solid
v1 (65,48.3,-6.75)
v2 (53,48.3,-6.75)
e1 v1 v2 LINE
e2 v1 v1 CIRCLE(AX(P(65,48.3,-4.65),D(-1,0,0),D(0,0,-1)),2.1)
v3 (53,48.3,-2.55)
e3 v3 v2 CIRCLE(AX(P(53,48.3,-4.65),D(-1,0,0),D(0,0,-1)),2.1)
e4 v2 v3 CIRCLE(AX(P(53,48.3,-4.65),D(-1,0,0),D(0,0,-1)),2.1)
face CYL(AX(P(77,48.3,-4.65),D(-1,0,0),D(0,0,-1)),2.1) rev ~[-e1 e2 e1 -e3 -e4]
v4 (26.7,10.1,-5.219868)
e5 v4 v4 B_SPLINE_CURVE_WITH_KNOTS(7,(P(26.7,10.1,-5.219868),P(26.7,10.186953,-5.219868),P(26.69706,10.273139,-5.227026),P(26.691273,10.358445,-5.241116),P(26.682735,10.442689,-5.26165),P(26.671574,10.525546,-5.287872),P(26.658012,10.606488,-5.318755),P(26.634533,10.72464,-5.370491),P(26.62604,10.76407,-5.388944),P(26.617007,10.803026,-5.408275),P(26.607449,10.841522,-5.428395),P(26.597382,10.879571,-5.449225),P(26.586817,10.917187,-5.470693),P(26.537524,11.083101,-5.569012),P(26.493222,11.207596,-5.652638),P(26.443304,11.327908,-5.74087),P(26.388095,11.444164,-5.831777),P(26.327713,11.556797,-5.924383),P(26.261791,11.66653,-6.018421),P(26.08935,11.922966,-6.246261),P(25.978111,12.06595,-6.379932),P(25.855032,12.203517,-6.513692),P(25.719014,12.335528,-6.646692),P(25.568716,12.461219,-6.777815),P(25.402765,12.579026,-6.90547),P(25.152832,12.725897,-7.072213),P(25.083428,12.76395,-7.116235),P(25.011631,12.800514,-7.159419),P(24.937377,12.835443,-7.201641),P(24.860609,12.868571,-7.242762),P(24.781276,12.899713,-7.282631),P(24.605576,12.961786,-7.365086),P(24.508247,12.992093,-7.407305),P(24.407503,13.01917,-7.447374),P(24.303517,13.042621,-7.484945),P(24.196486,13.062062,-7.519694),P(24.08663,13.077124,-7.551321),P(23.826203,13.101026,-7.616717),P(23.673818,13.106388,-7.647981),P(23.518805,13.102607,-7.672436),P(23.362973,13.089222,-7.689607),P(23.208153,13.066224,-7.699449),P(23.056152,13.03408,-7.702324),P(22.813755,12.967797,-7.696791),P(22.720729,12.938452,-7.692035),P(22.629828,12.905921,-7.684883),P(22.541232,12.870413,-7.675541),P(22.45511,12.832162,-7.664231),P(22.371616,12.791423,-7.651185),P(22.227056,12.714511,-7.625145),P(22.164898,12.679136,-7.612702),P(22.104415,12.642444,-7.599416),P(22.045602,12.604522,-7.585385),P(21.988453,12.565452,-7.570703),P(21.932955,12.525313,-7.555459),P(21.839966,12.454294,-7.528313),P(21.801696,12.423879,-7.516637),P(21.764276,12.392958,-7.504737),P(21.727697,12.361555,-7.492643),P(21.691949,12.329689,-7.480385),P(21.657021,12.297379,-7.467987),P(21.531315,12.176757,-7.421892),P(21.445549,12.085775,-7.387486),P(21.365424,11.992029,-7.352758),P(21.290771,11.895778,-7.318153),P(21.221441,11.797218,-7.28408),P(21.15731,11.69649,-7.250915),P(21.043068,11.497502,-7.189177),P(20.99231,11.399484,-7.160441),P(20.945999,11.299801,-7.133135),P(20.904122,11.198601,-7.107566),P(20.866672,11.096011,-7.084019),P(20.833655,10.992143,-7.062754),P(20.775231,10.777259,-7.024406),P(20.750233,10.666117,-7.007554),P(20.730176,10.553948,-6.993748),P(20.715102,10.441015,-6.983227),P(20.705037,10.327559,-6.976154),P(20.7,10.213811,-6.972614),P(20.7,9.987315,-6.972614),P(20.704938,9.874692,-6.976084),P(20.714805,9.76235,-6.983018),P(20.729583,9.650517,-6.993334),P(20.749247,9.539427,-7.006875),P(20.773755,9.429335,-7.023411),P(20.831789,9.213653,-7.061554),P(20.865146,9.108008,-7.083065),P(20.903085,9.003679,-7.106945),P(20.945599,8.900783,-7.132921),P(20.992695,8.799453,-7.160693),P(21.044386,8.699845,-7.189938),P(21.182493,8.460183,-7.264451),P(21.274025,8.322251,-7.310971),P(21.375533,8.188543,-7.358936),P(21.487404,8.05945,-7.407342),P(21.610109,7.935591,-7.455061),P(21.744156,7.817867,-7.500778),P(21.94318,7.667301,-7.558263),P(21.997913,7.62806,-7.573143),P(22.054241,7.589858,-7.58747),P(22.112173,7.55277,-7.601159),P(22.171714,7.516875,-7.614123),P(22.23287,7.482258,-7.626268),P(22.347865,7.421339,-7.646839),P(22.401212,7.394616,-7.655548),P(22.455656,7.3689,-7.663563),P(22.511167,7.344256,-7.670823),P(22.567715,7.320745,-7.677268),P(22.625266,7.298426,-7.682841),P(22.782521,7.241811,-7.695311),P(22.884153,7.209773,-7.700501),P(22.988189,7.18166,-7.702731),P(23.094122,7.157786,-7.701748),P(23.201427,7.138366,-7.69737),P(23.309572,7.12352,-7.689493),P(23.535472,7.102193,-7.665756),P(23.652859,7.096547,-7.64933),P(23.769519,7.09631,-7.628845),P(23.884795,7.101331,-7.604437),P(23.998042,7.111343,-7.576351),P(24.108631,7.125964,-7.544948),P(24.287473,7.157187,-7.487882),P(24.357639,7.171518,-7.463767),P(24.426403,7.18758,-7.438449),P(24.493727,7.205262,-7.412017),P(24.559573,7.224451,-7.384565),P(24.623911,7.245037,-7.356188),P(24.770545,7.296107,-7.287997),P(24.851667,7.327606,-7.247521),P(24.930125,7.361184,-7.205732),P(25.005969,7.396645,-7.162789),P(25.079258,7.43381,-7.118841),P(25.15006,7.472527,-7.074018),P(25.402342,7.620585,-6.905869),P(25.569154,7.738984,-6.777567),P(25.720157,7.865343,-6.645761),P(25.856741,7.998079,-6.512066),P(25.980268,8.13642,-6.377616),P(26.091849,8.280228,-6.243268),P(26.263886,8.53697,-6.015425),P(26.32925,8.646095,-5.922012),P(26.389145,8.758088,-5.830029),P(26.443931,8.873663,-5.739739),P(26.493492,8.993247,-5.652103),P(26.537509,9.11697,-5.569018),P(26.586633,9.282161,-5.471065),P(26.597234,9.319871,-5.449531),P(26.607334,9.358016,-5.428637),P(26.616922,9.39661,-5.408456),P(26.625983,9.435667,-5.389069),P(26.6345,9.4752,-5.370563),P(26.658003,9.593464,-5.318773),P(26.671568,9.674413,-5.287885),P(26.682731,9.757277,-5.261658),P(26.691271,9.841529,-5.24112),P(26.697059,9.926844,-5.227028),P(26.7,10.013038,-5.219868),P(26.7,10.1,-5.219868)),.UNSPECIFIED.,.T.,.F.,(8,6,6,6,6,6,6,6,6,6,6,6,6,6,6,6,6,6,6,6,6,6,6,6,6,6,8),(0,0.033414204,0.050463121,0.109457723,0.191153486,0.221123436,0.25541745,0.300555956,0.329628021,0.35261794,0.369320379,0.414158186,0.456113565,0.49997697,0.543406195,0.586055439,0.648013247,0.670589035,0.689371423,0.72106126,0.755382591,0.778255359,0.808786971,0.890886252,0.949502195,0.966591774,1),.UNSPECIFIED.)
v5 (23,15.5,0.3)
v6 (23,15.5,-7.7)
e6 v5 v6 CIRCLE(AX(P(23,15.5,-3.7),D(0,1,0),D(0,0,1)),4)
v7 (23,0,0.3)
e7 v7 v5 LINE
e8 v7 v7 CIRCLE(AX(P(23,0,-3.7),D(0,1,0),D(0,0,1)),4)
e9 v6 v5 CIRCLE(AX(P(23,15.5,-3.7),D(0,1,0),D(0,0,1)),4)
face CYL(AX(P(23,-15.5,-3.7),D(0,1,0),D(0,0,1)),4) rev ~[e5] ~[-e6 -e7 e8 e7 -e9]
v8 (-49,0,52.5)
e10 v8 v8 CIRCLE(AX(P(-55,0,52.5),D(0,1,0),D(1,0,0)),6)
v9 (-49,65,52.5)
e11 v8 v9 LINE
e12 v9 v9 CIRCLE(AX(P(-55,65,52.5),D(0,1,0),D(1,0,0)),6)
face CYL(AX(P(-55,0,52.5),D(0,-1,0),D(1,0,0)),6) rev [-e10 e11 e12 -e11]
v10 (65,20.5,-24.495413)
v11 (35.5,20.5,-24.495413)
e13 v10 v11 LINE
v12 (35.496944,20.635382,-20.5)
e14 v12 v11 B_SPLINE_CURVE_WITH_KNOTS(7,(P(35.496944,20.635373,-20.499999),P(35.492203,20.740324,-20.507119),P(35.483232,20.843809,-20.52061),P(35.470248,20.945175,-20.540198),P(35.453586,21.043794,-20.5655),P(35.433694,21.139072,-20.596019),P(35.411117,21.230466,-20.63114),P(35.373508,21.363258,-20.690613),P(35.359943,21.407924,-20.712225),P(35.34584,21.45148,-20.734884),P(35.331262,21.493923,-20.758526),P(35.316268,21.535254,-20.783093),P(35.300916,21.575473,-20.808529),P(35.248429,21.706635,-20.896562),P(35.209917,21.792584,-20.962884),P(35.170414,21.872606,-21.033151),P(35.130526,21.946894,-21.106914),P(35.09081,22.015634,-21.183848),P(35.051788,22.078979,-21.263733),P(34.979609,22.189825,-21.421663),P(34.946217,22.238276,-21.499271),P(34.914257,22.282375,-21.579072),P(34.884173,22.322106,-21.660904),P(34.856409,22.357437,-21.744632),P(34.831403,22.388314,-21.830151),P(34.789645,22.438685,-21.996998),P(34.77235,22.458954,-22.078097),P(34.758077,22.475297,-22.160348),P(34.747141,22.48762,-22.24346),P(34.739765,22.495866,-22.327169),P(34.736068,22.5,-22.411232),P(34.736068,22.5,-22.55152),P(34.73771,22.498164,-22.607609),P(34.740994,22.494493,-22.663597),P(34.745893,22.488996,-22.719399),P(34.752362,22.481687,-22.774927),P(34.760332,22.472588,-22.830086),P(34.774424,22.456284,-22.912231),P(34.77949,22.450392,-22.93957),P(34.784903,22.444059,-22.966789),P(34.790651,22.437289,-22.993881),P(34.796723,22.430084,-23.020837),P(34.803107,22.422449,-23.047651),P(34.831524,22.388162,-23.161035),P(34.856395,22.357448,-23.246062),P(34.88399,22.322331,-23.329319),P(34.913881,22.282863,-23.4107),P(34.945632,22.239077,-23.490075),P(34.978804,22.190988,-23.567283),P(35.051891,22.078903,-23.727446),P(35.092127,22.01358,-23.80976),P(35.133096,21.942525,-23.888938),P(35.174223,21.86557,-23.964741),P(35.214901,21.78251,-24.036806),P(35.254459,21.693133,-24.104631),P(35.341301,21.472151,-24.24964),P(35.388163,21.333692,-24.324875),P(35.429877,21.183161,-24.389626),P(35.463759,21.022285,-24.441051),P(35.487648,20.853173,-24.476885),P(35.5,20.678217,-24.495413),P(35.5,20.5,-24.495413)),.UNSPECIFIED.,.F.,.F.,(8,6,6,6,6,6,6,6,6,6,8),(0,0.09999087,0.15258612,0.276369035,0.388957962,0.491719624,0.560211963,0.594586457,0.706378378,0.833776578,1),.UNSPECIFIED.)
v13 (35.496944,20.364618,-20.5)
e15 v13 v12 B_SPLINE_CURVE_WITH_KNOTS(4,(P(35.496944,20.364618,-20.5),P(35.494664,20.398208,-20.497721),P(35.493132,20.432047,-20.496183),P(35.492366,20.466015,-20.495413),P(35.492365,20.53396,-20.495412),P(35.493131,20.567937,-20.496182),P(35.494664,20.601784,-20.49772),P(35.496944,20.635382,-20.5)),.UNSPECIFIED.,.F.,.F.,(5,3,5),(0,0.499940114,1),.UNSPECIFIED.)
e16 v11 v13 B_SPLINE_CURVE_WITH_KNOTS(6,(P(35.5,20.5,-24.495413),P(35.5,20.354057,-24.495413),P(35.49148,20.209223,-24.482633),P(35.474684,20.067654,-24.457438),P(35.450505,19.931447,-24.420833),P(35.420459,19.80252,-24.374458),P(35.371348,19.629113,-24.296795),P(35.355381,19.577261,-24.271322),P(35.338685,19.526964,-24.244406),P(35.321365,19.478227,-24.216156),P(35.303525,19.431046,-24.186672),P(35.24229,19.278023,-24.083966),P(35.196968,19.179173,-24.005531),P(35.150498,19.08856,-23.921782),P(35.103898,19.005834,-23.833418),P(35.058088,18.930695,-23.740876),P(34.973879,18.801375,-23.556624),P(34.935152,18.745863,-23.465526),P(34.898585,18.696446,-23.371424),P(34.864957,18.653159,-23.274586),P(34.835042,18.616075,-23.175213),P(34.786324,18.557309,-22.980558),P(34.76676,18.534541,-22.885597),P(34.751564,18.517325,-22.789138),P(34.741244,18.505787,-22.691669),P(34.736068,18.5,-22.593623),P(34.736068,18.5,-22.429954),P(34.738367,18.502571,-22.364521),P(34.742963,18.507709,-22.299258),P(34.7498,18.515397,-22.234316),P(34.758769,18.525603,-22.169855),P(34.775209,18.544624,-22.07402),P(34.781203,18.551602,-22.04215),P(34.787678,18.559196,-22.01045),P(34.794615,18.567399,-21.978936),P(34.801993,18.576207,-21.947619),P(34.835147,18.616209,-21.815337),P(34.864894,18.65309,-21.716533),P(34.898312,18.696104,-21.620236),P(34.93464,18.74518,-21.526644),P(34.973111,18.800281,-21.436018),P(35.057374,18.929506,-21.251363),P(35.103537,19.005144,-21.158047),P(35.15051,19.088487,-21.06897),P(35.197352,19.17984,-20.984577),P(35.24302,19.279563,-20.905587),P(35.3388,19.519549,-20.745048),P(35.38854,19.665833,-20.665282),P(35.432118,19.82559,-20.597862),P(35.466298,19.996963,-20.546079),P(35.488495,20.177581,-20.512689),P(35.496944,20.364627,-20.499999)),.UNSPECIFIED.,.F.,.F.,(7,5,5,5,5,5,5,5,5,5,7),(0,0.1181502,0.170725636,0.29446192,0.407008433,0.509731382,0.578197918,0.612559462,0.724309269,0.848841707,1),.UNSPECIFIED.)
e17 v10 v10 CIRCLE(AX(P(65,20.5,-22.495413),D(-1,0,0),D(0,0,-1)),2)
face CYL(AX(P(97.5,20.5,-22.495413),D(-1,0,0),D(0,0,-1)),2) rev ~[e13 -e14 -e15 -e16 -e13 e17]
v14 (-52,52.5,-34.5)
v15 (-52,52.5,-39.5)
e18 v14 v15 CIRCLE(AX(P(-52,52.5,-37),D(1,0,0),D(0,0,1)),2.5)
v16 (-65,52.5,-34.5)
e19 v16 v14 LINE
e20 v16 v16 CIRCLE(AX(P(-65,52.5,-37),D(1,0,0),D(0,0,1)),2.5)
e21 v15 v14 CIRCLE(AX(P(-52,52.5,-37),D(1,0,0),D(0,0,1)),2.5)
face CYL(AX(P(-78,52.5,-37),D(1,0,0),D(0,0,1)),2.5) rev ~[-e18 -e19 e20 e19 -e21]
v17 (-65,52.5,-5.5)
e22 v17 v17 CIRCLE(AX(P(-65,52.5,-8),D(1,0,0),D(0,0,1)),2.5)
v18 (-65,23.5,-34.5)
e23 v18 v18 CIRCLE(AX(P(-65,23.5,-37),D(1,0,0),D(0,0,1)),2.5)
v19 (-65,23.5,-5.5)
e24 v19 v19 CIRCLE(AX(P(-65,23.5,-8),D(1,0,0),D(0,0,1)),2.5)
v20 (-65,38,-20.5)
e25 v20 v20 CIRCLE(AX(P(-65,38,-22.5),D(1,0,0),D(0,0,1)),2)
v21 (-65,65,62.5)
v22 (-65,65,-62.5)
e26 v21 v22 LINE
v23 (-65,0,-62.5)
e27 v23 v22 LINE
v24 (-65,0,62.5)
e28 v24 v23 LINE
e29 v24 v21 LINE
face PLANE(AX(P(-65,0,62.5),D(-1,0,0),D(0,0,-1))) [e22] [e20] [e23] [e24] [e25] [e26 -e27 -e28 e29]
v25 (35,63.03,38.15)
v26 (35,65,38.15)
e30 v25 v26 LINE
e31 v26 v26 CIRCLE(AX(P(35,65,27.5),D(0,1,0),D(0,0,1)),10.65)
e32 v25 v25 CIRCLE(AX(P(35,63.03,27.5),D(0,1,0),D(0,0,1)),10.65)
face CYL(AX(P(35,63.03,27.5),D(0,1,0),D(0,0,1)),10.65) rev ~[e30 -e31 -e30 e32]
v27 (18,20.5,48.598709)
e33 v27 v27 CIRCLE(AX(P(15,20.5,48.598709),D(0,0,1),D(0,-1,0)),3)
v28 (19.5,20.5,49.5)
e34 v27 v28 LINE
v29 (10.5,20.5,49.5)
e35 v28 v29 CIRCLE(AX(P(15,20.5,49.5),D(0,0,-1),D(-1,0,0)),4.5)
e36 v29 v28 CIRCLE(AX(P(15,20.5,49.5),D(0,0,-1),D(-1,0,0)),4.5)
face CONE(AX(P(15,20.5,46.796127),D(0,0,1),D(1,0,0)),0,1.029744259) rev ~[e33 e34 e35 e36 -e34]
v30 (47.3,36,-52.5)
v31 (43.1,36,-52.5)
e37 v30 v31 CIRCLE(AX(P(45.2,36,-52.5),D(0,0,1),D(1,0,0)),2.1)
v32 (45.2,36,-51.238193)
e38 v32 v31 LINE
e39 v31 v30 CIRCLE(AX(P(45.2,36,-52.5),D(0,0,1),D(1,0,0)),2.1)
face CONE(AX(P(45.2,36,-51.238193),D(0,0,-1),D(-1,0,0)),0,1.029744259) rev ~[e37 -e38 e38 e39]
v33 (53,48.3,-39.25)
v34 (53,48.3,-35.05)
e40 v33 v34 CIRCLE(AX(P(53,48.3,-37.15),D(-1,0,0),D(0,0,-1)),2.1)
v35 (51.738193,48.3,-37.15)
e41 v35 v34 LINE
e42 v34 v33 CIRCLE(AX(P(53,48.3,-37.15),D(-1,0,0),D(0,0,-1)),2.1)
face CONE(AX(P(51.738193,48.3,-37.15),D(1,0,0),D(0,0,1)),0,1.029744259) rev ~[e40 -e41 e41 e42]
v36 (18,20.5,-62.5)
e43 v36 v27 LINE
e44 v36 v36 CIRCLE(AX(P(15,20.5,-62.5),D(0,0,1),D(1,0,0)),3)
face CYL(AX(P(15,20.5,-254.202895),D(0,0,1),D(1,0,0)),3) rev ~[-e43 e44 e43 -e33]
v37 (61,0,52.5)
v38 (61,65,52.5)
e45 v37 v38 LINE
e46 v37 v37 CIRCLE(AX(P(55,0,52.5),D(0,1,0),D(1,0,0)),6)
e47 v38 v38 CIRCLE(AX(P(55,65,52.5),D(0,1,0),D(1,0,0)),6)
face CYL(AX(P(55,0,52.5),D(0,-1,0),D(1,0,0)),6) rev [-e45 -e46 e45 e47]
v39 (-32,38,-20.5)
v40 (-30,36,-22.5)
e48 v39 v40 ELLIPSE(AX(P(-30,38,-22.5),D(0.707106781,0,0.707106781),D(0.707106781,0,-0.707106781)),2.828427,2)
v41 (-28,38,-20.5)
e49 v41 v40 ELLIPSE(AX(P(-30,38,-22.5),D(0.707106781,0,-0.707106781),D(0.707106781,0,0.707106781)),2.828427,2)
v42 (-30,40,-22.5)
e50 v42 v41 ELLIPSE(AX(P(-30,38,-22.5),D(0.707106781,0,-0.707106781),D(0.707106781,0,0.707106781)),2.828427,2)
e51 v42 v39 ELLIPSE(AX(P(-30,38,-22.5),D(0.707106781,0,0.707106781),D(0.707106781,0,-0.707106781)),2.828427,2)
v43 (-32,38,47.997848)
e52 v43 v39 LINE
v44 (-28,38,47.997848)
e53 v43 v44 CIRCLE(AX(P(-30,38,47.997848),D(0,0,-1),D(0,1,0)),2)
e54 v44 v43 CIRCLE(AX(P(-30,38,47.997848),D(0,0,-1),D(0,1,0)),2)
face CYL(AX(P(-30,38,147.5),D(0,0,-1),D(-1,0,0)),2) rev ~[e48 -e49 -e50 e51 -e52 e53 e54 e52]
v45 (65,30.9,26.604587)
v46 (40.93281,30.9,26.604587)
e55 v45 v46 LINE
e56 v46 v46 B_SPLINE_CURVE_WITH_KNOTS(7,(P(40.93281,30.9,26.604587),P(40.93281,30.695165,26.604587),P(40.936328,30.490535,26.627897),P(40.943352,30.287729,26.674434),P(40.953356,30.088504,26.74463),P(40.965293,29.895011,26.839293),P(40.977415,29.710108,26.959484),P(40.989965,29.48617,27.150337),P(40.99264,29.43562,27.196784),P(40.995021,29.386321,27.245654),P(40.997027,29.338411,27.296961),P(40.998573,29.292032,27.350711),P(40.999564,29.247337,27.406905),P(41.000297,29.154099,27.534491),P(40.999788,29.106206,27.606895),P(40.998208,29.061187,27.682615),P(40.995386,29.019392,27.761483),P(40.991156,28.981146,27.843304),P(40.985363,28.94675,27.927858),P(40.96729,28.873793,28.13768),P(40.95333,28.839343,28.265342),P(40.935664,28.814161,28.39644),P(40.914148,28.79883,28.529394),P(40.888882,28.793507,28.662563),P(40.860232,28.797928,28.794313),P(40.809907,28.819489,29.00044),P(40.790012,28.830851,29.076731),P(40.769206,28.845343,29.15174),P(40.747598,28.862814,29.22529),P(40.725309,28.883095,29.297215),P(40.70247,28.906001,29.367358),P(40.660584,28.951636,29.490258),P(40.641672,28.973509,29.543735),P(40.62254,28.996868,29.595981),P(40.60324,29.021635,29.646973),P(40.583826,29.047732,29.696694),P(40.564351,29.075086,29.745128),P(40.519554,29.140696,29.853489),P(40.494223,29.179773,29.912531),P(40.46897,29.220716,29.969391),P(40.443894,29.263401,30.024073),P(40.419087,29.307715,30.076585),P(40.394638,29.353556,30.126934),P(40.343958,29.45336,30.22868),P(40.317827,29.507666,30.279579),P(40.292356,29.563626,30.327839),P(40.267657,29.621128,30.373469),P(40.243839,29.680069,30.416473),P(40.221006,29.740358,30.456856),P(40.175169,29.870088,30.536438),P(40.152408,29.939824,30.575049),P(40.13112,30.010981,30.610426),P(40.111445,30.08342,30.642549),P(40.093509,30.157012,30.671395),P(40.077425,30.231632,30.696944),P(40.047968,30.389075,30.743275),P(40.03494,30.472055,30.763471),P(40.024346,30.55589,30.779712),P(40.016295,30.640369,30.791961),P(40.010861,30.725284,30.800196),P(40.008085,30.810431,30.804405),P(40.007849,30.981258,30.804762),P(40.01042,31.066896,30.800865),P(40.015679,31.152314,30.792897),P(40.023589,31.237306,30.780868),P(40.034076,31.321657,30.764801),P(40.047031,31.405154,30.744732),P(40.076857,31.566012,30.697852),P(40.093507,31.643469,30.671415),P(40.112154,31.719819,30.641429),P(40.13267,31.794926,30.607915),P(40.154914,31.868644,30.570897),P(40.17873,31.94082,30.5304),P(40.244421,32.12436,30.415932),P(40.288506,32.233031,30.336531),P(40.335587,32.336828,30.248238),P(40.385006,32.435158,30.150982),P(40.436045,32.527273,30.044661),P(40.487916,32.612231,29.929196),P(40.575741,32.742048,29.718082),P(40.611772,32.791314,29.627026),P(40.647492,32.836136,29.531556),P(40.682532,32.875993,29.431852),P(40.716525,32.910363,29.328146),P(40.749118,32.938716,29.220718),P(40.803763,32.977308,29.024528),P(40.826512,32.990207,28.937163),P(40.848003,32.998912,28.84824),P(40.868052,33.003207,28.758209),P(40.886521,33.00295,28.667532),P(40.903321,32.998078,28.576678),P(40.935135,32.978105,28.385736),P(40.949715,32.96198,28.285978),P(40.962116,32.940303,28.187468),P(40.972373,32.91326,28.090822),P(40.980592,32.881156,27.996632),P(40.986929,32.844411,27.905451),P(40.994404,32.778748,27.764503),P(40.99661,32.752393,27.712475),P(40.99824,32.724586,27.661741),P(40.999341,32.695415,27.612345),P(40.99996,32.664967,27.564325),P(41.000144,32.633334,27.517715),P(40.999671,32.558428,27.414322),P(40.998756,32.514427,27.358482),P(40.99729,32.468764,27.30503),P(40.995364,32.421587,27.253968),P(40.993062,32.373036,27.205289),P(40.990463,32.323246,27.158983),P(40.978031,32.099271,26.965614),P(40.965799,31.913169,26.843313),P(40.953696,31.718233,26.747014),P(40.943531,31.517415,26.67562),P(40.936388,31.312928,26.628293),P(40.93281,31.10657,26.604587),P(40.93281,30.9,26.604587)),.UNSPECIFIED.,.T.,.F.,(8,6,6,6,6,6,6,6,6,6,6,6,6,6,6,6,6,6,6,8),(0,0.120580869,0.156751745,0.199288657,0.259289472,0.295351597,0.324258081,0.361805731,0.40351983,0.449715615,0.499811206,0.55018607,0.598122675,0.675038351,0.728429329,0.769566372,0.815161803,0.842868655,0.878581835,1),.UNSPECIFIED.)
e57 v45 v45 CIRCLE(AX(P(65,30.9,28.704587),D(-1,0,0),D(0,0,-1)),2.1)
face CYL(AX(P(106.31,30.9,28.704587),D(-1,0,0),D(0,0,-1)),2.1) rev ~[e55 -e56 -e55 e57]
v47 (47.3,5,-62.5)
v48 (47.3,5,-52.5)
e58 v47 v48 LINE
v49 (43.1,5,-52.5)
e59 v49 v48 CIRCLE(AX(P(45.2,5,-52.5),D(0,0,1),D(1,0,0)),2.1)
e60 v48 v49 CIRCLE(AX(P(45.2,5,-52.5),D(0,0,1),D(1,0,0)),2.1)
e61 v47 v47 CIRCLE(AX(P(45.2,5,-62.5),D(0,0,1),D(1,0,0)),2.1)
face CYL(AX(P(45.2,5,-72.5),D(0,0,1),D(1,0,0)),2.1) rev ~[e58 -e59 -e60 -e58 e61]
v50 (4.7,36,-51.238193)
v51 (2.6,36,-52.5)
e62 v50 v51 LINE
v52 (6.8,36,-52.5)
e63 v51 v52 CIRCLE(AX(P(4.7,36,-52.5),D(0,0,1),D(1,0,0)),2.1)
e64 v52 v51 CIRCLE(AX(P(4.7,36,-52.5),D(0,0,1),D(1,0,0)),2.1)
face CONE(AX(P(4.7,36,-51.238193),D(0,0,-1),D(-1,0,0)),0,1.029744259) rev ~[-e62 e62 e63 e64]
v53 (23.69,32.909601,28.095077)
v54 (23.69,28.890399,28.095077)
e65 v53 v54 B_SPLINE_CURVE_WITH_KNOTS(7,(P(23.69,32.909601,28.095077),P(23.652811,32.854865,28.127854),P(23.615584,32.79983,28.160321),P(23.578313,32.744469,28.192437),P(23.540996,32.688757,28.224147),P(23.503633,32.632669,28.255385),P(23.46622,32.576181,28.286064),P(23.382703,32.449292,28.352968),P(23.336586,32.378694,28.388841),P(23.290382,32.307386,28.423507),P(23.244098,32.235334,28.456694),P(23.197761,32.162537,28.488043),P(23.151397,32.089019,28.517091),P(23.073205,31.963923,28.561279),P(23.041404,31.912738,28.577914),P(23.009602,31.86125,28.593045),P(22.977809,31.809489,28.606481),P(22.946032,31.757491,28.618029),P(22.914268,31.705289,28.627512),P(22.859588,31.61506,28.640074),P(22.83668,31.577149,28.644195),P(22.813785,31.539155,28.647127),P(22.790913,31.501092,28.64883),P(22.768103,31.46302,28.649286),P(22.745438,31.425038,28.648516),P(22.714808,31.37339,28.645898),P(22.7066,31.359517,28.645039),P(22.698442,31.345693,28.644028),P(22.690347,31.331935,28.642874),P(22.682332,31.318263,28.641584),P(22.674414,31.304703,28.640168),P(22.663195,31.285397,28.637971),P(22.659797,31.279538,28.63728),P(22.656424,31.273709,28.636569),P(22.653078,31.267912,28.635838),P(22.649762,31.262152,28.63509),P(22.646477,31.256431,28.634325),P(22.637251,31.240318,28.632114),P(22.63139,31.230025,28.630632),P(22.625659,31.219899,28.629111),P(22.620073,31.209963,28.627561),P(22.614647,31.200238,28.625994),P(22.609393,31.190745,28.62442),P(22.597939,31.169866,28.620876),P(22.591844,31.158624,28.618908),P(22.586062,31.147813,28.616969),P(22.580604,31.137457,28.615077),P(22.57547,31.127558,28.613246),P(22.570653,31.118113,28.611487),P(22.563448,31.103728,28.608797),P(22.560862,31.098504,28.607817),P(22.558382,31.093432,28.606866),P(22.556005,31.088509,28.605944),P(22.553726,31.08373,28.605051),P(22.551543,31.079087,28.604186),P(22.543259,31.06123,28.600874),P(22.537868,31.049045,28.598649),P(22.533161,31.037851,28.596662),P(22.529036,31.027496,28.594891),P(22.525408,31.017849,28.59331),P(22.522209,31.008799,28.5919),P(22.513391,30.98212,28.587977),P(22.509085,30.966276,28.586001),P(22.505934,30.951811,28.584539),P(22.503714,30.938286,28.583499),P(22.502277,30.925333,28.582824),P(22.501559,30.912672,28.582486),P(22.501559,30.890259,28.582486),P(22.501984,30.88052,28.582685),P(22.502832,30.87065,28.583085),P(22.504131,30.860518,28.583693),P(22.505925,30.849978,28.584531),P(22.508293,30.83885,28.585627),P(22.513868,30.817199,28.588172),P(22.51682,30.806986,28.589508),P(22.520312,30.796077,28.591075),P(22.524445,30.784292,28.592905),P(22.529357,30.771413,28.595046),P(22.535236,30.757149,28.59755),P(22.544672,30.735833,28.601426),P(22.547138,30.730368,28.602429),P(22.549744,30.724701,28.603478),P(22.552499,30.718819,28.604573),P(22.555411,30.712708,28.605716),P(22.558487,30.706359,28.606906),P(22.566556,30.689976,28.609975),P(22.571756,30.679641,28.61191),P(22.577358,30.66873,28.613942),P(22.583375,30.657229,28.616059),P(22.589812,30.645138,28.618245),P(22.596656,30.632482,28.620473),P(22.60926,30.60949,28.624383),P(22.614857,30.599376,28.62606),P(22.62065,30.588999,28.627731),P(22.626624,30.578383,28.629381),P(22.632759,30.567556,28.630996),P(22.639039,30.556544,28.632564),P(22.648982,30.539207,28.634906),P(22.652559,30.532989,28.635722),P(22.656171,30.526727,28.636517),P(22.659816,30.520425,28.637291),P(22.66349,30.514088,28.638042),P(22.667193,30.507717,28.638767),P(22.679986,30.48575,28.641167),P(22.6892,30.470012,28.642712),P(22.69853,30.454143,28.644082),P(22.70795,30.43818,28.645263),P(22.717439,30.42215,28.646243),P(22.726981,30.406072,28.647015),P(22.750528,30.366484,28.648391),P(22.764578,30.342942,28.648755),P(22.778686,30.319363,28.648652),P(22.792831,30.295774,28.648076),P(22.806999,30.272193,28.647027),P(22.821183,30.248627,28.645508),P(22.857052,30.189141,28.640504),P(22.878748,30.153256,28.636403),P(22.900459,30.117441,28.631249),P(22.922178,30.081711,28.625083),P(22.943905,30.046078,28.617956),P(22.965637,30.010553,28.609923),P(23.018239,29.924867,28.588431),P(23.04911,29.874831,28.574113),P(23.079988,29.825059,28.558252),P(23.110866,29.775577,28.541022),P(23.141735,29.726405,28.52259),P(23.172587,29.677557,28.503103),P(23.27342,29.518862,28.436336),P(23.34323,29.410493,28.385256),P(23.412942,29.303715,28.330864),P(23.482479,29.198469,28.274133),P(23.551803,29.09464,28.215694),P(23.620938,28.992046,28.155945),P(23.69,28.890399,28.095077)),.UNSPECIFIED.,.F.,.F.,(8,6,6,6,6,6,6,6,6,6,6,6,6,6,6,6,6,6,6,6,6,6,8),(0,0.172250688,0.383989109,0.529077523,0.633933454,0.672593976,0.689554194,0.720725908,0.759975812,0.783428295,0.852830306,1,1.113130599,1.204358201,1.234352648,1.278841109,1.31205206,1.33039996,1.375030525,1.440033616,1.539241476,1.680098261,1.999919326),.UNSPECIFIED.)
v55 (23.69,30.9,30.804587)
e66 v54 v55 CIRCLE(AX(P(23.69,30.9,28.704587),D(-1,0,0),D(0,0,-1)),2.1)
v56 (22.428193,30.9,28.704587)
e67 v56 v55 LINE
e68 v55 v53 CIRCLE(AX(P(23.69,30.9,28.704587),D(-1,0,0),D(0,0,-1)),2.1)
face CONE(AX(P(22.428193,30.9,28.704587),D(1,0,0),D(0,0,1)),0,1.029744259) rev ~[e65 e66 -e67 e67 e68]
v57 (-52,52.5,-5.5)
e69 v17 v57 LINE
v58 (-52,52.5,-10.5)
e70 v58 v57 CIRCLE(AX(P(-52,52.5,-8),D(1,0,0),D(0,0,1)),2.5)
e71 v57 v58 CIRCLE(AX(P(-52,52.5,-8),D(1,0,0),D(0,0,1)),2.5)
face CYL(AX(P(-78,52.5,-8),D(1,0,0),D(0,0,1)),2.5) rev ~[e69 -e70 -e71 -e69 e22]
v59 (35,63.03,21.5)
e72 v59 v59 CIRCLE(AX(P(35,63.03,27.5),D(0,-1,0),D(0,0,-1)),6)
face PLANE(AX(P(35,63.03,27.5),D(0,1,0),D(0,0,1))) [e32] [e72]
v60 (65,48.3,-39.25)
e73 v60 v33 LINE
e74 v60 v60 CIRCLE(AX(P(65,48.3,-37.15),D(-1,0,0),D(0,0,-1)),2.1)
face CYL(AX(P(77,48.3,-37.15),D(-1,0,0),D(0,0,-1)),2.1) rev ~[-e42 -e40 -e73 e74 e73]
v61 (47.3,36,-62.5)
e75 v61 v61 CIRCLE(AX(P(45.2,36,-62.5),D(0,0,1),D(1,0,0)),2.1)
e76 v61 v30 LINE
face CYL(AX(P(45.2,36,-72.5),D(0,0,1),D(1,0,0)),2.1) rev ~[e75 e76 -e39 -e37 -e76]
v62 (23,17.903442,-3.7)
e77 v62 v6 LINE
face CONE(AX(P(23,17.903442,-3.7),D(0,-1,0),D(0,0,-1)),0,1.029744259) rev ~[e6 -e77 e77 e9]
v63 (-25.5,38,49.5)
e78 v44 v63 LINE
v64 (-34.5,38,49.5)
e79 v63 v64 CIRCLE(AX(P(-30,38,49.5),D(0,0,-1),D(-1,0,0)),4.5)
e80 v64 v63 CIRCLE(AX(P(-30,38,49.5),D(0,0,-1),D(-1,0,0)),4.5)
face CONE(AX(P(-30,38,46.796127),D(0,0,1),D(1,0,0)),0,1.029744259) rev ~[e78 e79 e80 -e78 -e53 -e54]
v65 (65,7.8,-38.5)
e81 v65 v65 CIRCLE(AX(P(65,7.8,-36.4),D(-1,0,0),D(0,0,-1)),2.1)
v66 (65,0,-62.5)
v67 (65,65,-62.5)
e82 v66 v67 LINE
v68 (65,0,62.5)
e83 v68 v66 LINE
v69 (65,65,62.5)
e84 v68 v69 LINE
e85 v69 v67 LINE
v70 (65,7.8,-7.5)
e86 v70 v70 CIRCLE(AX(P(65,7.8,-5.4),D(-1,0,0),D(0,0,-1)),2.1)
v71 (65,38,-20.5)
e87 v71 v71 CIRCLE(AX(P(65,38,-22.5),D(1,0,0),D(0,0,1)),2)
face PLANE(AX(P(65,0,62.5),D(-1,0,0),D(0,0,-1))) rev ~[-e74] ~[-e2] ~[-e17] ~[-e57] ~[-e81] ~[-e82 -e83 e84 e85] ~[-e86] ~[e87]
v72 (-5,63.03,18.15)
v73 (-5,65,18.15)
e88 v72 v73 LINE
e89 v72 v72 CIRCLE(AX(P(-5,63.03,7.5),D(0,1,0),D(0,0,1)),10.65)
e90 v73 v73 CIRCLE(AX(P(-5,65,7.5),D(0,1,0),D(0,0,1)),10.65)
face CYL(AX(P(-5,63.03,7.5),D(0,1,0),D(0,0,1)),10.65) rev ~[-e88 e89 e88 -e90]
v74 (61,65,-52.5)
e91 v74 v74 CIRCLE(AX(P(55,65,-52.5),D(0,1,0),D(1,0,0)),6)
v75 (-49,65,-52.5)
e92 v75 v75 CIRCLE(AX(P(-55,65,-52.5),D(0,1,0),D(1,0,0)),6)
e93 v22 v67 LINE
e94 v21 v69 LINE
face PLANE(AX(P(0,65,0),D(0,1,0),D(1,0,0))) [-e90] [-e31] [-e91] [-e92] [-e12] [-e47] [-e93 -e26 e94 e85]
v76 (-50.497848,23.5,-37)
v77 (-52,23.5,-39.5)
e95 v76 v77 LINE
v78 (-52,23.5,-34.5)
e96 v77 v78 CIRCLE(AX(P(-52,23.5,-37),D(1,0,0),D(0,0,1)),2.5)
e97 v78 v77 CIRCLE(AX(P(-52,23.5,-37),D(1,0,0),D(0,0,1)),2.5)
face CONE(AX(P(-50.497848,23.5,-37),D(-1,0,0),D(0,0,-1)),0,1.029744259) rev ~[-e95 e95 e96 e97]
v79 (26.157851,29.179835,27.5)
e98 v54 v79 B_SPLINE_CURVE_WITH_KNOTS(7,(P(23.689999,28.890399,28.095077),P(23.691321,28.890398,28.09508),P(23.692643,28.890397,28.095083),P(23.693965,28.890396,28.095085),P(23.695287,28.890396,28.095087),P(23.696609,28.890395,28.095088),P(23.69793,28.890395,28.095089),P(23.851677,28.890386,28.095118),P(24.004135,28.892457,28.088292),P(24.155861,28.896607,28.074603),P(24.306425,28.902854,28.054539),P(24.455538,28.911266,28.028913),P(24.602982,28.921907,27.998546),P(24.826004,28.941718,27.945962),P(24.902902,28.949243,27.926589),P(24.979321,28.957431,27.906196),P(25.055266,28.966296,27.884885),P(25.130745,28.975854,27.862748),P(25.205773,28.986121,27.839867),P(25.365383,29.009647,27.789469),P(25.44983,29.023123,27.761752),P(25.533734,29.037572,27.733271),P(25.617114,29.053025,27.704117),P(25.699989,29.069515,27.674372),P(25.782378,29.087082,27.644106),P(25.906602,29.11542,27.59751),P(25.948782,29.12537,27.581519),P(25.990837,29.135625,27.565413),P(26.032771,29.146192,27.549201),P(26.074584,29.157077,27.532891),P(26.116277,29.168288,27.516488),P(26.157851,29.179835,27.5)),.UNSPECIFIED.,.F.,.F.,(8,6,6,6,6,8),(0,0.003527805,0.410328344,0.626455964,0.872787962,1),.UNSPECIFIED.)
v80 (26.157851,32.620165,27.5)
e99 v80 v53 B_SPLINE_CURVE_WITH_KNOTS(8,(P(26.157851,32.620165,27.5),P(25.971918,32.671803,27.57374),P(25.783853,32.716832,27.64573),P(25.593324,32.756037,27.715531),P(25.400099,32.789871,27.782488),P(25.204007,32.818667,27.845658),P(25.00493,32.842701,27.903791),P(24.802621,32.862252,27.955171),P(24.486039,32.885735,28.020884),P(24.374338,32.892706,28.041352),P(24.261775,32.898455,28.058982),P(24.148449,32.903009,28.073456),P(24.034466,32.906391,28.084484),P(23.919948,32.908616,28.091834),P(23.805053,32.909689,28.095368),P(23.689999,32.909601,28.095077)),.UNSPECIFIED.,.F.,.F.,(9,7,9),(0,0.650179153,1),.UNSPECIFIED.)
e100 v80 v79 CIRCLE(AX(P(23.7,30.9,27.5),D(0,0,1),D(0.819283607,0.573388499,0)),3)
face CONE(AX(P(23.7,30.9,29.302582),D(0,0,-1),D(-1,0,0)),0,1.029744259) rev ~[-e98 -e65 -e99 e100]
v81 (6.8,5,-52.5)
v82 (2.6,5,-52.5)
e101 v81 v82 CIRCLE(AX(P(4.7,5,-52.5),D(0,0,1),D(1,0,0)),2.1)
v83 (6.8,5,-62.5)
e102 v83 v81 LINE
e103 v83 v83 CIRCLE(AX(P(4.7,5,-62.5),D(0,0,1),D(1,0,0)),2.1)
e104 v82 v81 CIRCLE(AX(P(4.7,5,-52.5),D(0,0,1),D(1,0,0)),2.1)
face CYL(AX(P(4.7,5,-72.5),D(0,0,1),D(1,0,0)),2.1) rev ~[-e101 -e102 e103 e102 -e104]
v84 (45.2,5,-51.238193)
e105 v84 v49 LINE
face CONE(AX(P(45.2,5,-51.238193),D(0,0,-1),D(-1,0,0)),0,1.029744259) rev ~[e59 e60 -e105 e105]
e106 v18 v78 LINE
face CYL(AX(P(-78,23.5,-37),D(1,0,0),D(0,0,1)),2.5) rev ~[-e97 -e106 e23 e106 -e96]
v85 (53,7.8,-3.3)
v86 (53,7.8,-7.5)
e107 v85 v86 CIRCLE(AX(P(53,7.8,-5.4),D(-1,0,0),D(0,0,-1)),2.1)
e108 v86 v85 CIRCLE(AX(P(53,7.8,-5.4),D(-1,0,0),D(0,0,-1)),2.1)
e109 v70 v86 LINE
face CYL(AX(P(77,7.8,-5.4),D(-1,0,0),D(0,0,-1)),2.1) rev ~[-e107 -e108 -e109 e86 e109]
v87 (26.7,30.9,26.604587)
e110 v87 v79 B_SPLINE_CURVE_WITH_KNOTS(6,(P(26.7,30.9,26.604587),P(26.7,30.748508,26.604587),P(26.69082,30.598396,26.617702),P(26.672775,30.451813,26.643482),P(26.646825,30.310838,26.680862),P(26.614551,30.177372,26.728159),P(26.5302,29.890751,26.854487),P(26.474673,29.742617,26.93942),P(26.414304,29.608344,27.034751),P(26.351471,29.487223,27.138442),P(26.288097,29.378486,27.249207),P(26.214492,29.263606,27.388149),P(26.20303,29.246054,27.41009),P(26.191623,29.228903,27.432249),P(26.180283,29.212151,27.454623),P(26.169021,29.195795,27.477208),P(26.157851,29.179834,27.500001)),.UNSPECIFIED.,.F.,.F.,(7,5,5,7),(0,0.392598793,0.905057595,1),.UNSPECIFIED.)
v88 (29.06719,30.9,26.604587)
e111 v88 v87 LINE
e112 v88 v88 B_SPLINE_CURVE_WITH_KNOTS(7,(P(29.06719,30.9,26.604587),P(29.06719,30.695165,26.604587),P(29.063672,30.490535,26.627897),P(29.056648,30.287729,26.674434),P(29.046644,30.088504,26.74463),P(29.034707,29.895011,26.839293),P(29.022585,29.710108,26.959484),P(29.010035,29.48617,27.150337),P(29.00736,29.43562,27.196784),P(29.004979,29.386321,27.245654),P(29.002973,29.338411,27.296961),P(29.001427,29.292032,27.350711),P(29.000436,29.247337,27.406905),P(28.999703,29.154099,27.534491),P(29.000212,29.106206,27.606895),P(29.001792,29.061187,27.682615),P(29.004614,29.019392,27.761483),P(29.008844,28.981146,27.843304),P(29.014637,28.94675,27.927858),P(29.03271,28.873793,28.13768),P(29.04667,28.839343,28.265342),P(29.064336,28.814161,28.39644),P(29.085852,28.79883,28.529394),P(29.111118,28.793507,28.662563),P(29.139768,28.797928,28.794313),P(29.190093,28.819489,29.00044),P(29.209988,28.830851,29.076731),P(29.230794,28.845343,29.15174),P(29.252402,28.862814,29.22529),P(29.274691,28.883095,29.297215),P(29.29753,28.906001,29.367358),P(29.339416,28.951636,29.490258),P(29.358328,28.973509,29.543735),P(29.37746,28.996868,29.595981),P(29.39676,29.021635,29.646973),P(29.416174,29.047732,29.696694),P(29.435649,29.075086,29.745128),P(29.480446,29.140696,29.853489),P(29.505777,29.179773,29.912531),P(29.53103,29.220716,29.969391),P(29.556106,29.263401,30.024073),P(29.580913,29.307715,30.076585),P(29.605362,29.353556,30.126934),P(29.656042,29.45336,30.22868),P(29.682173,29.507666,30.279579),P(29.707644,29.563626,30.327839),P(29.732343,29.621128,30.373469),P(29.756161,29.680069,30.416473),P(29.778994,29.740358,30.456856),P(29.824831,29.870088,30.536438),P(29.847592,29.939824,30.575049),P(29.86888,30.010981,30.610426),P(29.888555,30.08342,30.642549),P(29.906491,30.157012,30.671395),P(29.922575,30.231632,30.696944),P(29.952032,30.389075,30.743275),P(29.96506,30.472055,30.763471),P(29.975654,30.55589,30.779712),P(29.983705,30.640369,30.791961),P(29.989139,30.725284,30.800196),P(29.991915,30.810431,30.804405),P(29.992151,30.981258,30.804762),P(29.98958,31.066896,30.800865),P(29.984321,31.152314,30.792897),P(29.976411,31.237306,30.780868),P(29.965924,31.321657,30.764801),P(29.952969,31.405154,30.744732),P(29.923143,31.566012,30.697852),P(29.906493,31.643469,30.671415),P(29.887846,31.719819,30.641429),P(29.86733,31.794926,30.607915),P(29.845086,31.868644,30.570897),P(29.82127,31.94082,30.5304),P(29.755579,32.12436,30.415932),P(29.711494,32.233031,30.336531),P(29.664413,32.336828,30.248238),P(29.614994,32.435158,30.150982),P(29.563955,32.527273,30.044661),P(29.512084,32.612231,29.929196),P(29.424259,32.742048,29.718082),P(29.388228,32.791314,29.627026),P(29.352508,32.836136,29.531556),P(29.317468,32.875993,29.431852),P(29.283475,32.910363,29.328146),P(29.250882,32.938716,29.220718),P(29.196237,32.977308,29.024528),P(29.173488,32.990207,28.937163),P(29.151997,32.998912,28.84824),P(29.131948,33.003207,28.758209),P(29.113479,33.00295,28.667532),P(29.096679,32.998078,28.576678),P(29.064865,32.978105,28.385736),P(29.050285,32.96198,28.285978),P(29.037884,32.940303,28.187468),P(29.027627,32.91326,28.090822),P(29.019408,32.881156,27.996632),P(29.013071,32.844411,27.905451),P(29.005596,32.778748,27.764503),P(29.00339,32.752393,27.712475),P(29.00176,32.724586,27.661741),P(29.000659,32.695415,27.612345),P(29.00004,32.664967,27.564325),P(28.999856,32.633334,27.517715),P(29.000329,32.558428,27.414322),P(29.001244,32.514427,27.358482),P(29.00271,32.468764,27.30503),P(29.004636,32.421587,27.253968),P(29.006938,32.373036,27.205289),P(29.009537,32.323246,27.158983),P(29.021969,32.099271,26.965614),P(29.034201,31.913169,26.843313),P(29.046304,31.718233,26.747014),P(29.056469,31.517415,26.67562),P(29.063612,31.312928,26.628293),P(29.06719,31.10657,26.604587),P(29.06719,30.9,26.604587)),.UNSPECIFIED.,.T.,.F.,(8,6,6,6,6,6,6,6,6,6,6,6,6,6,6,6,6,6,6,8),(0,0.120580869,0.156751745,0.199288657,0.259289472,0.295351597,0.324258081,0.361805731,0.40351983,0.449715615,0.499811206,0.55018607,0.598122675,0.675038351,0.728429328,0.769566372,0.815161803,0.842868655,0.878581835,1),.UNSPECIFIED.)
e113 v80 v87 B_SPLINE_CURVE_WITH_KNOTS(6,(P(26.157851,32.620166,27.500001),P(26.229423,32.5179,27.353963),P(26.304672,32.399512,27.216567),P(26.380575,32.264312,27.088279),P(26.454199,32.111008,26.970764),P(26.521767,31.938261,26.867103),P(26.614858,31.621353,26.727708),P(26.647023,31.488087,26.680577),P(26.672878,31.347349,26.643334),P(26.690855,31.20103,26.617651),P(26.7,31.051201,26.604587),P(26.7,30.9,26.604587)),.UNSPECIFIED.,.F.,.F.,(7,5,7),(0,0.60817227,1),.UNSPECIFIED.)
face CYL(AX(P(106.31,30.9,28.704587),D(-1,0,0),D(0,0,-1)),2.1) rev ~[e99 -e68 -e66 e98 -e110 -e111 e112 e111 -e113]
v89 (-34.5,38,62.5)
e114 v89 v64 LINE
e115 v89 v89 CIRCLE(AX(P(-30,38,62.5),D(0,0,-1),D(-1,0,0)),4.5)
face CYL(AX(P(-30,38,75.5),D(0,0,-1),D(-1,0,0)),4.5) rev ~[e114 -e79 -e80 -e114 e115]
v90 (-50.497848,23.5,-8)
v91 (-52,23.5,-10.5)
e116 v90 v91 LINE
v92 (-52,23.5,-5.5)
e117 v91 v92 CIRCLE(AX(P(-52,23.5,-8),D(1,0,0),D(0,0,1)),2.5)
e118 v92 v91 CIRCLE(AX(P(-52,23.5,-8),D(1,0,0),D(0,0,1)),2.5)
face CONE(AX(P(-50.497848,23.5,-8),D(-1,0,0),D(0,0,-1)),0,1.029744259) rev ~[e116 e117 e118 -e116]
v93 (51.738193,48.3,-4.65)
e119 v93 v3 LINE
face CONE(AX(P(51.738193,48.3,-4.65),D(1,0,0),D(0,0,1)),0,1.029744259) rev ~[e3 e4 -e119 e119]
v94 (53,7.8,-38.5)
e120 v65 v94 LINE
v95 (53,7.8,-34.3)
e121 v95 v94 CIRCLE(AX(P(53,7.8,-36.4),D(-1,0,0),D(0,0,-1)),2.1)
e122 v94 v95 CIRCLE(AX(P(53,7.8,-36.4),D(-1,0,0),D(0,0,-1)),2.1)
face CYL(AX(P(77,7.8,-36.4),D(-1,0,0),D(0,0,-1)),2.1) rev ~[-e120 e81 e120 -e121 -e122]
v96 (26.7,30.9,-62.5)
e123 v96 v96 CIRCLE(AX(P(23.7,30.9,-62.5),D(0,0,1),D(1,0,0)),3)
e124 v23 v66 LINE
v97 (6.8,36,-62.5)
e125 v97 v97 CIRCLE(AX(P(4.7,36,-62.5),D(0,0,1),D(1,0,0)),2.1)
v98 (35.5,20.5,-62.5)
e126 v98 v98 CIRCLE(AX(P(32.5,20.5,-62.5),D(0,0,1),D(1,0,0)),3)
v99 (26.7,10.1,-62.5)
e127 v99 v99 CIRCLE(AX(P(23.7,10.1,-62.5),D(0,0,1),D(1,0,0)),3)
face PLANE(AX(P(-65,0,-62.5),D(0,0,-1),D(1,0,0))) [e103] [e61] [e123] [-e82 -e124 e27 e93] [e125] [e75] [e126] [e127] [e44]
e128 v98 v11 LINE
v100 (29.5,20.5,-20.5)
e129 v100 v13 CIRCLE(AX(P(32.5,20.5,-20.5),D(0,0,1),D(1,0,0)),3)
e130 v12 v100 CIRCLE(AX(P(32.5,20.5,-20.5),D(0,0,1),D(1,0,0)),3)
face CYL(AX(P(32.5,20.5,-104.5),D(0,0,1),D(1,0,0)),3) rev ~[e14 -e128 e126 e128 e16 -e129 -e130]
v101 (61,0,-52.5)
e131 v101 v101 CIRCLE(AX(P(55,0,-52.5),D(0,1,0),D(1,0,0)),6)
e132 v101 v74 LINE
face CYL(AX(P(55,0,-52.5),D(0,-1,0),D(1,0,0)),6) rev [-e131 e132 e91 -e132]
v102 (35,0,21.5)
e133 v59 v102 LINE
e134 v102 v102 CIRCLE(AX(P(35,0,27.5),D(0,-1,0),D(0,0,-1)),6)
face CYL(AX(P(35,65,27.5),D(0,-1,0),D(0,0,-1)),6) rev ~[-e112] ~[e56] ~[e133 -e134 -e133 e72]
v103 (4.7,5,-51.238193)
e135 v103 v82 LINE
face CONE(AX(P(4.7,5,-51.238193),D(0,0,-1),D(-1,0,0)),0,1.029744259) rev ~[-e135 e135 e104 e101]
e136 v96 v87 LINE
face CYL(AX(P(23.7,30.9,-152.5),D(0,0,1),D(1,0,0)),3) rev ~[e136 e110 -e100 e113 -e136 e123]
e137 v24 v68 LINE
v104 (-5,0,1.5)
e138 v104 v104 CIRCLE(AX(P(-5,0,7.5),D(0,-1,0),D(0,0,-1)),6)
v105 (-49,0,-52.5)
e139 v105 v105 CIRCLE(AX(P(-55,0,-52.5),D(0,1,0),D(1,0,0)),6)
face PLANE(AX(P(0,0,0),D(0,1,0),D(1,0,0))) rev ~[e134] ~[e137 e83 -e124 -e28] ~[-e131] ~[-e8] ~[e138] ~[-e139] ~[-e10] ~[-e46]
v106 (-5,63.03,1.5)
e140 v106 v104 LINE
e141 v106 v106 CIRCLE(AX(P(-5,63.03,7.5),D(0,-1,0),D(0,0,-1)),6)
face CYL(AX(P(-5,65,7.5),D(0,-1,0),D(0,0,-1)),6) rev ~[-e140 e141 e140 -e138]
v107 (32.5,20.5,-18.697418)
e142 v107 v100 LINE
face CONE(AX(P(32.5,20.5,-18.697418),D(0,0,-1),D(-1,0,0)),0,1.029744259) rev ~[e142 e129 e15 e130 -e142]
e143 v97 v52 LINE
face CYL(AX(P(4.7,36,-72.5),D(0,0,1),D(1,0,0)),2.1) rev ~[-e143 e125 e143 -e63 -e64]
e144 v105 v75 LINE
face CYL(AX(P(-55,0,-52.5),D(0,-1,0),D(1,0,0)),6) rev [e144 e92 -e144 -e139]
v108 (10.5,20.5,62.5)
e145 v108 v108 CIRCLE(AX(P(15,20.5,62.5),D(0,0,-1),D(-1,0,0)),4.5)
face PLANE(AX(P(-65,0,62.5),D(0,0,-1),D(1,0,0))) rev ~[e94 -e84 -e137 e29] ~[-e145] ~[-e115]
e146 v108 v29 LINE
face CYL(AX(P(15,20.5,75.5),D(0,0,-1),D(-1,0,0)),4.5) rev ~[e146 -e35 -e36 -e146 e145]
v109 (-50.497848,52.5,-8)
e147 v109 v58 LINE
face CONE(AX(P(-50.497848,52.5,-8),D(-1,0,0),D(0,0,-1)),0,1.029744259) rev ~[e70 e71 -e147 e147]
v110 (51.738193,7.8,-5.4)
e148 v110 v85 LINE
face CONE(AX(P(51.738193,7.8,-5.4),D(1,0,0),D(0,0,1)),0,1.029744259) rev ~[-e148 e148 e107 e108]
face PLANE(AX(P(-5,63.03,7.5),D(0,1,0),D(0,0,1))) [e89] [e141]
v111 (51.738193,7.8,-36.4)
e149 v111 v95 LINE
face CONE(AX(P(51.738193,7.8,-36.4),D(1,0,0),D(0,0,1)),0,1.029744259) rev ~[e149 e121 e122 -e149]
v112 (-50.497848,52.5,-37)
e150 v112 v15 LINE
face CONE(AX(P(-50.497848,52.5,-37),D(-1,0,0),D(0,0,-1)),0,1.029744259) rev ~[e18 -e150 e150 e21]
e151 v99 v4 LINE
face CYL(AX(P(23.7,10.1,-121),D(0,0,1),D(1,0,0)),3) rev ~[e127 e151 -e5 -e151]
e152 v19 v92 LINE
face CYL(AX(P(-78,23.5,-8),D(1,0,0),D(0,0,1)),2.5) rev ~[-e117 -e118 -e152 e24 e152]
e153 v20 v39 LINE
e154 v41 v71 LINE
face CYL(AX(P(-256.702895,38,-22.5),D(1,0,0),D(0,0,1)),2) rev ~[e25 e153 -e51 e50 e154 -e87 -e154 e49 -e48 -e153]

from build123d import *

# Parameters (mm, degrees)
SKETCH_2_W                 = 130
SKETCH_2_H                 = 125
SKETCH_2_R                 = 6
EXTRUDE_1_DEPTH            = 65
HOLE_WIZARD_4_0_4_5_D      = 4
HOLE_WIZARD_M5_3_D         = 4.2
HOLE_WIZARD_M5_3_DEPTH     = 12
HOLE_WIZARD_M5_3_TIP       = 1.2618073
HOLE_WIZARD_4_0_4_9_D      = 4
HOLE_WIZARD_4_0_4_9_DEPTH  = 32.5
HOLE_WIZARD_4_0_4_9_TIP    = 1.201721238
HOLE_WIZARD_6_0_6_1_D      = 6
HOLE_WIZARD_6_0_6_1_DEPTH  = 42
HOLE_WIZARD_6_0_6_1_TIP    = 1.802581857
HOLE_WIZARD_M6_1_D         = 5
HOLE_WIZARD_M6_1_DEPTH     = 13
HOLE_WIZARD_M6_1_TIP       = 1.502151548
HOLE_WIZARD_4_0_4_11_D     = 4
HOLE_WIZARD_4_0_4_11_DEPTH = 85
HOLE_WIZARD_4_0_4_11_TIP   = 1.201721238
M10X1_0_1_D                = 9
M10X1_0_1_DEPTH            = 13
M10X1_0_1_TIP              = 2.703872786
HOLE_WIZARD_1_D            = 12
HOLE_WIZARD_1_DEPTH        = 65
HOLE_WIZARD_1_CBORE_D      = 21.3
HOLE_WIZARD_1_CBORE_DEPTH  = 1.97
HOLE_WIZARD_8_0_8_1_D      = 8
HOLE_WIZARD_8_0_8_1_DEPTH  = 15.5
HOLE_WIZARD_8_0_8_1_TIP    = 2.403442476
HOLE_WIZARD_M5_5_D         = 4.2
HOLE_WIZARD_M5_5_DEPTH     = 10
HOLE_WIZARD_M5_5_TIP       = 1.2618073
HOLE_WIZARD_6_0_6_2_D      = 6
HOLE_WIZARD_6_0_6_2_DEPTH  = 58.5
HOLE_WIZARD_6_0_6_2_TIP    = 1.802581857
HOLE_WIZARD_6_0_6_3_D      = 6
HOLE_WIZARD_6_0_6_3_DEPTH  = 90
HOLE_WIZARD_6_0_6_3_TIP    = 1.802581857
HOLE_WIZARD_M5_8_D         = 4.2
HOLE_WIZARD_M5_8_DEPTH     = 41.31
HOLE_WIZARD_M5_8_TIP       = 1.2618073
HOLE_WIZARD_6_0_6_4_D      = 6
M10X1_0_2_D                = 9
M10X1_0_2_DEPTH            = 13
M10X1_0_2_TIP              = 2.703872786


with BuildPart() as part:
    # 草图2 → 凸台-拉伸1 (new body)
    with BuildSketch(Plane(origin=(0, 0, 0), x_dir=(1, 0, 0), z_dir=(0, 1, 0))):
        Rectangle(SKETCH_2_W, SKETCH_2_H)
        with Locations((-55, 52.5)):
            Circle(SKETCH_2_R, mode=Mode.SUBTRACT)
        with Locations((55, 52.5)):
            Circle(SKETCH_2_R, mode=Mode.SUBTRACT)
        with Locations((55, -52.5)):
            Circle(SKETCH_2_R, mode=Mode.SUBTRACT)
        with Locations((-55, -52.5)):
            Circle(SKETCH_2_R, mode=Mode.SUBTRACT)
    extrude(amount=EXTRUDE_1_DEPTH)

    # Ø4.0 (4) 直径孔5 (through all)
    with Locations(Plane(origin=(-65, 38, -22.5), x_dir=(0, 0, -1), z_dir=(-1, 0, 0))):
        with Locations((0, 0)):
            Hole(HOLE_WIZARD_4_0_4_5_D / 2)

    # M5 螺纹孔3
    with Locations(Plane(origin=(65, 48.3, -4.65), x_dir=(0, 0, 1), z_dir=(1, 0, 0))):
        with Locations((0, 0), (-32.5, 0), (-31.75, 40.5), (-0.75, 40.5)):
            Hole(HOLE_WIZARD_M5_3_D / 2, depth=HOLE_WIZARD_M5_3_DEPTH)
            with Locations((0, 0, -(HOLE_WIZARD_M5_3_DEPTH + HOLE_WIZARD_M5_3_TIP / 2))):  # 118° drill point
                Cone(0, HOLE_WIZARD_M5_3_D / 2, HOLE_WIZARD_M5_3_TIP, mode=Mode.SUBTRACT)

    # Ø4.0 (4) 直径孔9
    with Locations(Plane(origin=(65, 20.5, -22.49541266), x_dir=(0, 0, 1), z_dir=(1, 0, 0))):
        with Locations((0, 0)):
            Hole(HOLE_WIZARD_4_0_4_9_D / 2, depth=HOLE_WIZARD_4_0_4_9_DEPTH)
            with Locations((0, 0, -(HOLE_WIZARD_4_0_4_9_DEPTH + HOLE_WIZARD_4_0_4_9_TIP / 2))):  # 118° drill point
                Cone(0, HOLE_WIZARD_4_0_4_9_D / 2, HOLE_WIZARD_4_0_4_9_TIP, mode=Mode.SUBTRACT)

    # Ø6.0 (6) 直径孔1
    with Locations(Plane(origin=(32.5, 20.5, -62.5), x_dir=(-1, 0, 0), z_dir=(0, 0, -1))):
        with Locations((0, 0)):
            Hole(HOLE_WIZARD_6_0_6_1_D / 2, depth=HOLE_WIZARD_6_0_6_1_DEPTH)
            with Locations((0, 0, -(HOLE_WIZARD_6_0_6_1_DEPTH + HOLE_WIZARD_6_0_6_1_TIP / 2))):  # 118° drill point
                Cone(0, HOLE_WIZARD_6_0_6_1_D / 2, HOLE_WIZARD_6_0_6_1_TIP, mode=Mode.SUBTRACT)

    # M6 螺纹孔1
    with Locations(Plane(origin=(-65, 52.5, -37), x_dir=(0, 0, -1), z_dir=(-1, 0, 0))):
        with Locations((0, 0), (-29, 0), (0, 29), (-29, 29)):
            Hole(HOLE_WIZARD_M6_1_D / 2, depth=HOLE_WIZARD_M6_1_DEPTH)
            with Locations((0, 0, -(HOLE_WIZARD_M6_1_DEPTH + HOLE_WIZARD_M6_1_TIP / 2))):  # 118° drill point
                Cone(0, HOLE_WIZARD_M6_1_D / 2, HOLE_WIZARD_M6_1_TIP, mode=Mode.SUBTRACT)

    # Ø4.0 (4) 直径孔11
    with Locations(Plane(origin=(-30, 38, 62.5), x_dir=(1, 0, 0), z_dir=(0, 0, 1))):
        with Locations((0, 0)):
            Hole(HOLE_WIZARD_4_0_4_11_D / 2, depth=HOLE_WIZARD_4_0_4_11_DEPTH)
            with Locations((0, 0, -(HOLE_WIZARD_4_0_4_11_DEPTH + HOLE_WIZARD_4_0_4_11_TIP / 2))):  # 118° drill point
                Cone(0, HOLE_WIZARD_4_0_4_11_D / 2, HOLE_WIZARD_4_0_4_11_TIP, mode=Mode.SUBTRACT)

    # M10x1.0 螺纹孔1
    with Locations(Plane(origin=(-30, 38, 62.5), x_dir=(1, 0, 0), z_dir=(0, 0, 1))):
        with Locations((0, 0)):
            Hole(M10X1_0_1_D / 2, depth=M10X1_0_1_DEPTH)
            with Locations((0, 0, -(M10X1_0_1_DEPTH + M10X1_0_1_TIP / 2))):  # 118° drill point
                Cone(0, M10X1_0_1_D / 2, M10X1_0_1_TIP, mode=Mode.SUBTRACT)

    # 孔1
    with Locations(Plane(origin=(-5, 65, 7.5), x_dir=(0, 0, 1), z_dir=(0, 1, 0))):
        with Locations((0, 0), (20, 40)):
            CounterBoreHole(HOLE_WIZARD_1_D / 2, HOLE_WIZARD_1_CBORE_D / 2, HOLE_WIZARD_1_CBORE_DEPTH, depth=HOLE_WIZARD_1_DEPTH)

    # Ø8.0 (8) 直径孔1
    with Locations(Plane(origin=(23, 0, -3.7), x_dir=(0, 0, -1), z_dir=(0, -1, 0))):
        with Locations((0, 0)):
            Hole(HOLE_WIZARD_8_0_8_1_D / 2, depth=HOLE_WIZARD_8_0_8_1_DEPTH)
            with Locations((0, 0, -(HOLE_WIZARD_8_0_8_1_DEPTH + HOLE_WIZARD_8_0_8_1_TIP / 2))):  # 118° drill point
                Cone(0, HOLE_WIZARD_8_0_8_1_D / 2, HOLE_WIZARD_8_0_8_1_TIP, mode=Mode.SUBTRACT)

    # M5 螺纹孔5
    with Locations(Plane(origin=(4.7, 36, -62.5), x_dir=(-1, 0, 0), z_dir=(0, 0, -1))):
        with Locations((0, 0), (-40.5, 0), (-40.5, -31), (0, -31)):
            Hole(HOLE_WIZARD_M5_5_D / 2, depth=HOLE_WIZARD_M5_5_DEPTH)
            with Locations((0, 0, -(HOLE_WIZARD_M5_5_DEPTH + HOLE_WIZARD_M5_5_TIP / 2))):  # 118° drill point
                Cone(0, HOLE_WIZARD_M5_5_D / 2, HOLE_WIZARD_M5_5_TIP, mode=Mode.SUBTRACT)

    # Ø6.0 (6) 直径孔2
    with Locations(Plane(origin=(23.7, 10.1, -62.5), x_dir=(-1, 0, 0), z_dir=(0, 0, -1))):
        with Locations((0, 0)):
            Hole(HOLE_WIZARD_6_0_6_2_D / 2, depth=HOLE_WIZARD_6_0_6_2_DEPTH)
            with Locations((0, 0, -(HOLE_WIZARD_6_0_6_2_DEPTH + HOLE_WIZARD_6_0_6_2_TIP / 2))):  # 118° drill point
                Cone(0, HOLE_WIZARD_6_0_6_2_D / 2, HOLE_WIZARD_6_0_6_2_TIP, mode=Mode.SUBTRACT)

    # Ø6.0 (6) 直径孔3
    with Locations(Plane(origin=(23.7, 30.9, -62.5), x_dir=(-1, 0, 0), z_dir=(0, 0, -1))):
        with Locations((0, 0)):
            Hole(HOLE_WIZARD_6_0_6_3_D / 2, depth=HOLE_WIZARD_6_0_6_3_DEPTH)
            with Locations((0, 0, -(HOLE_WIZARD_6_0_6_3_DEPTH + HOLE_WIZARD_6_0_6_3_TIP / 2))):  # 118° drill point
                Cone(0, HOLE_WIZARD_6_0_6_3_D / 2, HOLE_WIZARD_6_0_6_3_TIP, mode=Mode.SUBTRACT)

    # M5 螺纹孔8
    with Locations(Plane(origin=(65, 30.9, 28.70458734), x_dir=(0, 0, 1), z_dir=(1, 0, 0))):
        with Locations((0, 0)):
            Hole(HOLE_WIZARD_M5_8_D / 2, depth=HOLE_WIZARD_M5_8_DEPTH)
            with Locations((0, 0, -(HOLE_WIZARD_M5_8_DEPTH + HOLE_WIZARD_M5_8_TIP / 2))):  # 118° drill point
                Cone(0, HOLE_WIZARD_M5_8_D / 2, HOLE_WIZARD_M5_8_TIP, mode=Mode.SUBTRACT)

    # Ø6.0 (6) 直径孔4 (through all)
    with Locations(Plane(origin=(15, 20.5, -62.5), x_dir=(-1, 0, 0), z_dir=(0, 0, -1))):
        with Locations((0, 0)):
            Hole(HOLE_WIZARD_6_0_6_4_D / 2)

    # M10x1.0 螺纹孔2
    with Locations(Plane(origin=(15, 20.5, 62.5), x_dir=(1, 0, 0), z_dir=(0, 0, 1))):
        with Locations((0, 0)):
            Hole(M10X1_0_2_D / 2, depth=M10X1_0_2_DEPTH)
            with Locations((0, 0, -(M10X1_0_2_DEPTH + M10X1_0_2_TIP / 2))):  # 118° drill point
                Cone(0, M10X1_0_2_D / 2, M10X1_0_2_TIP, mode=Mode.SUBTRACT)


solid = part.part
